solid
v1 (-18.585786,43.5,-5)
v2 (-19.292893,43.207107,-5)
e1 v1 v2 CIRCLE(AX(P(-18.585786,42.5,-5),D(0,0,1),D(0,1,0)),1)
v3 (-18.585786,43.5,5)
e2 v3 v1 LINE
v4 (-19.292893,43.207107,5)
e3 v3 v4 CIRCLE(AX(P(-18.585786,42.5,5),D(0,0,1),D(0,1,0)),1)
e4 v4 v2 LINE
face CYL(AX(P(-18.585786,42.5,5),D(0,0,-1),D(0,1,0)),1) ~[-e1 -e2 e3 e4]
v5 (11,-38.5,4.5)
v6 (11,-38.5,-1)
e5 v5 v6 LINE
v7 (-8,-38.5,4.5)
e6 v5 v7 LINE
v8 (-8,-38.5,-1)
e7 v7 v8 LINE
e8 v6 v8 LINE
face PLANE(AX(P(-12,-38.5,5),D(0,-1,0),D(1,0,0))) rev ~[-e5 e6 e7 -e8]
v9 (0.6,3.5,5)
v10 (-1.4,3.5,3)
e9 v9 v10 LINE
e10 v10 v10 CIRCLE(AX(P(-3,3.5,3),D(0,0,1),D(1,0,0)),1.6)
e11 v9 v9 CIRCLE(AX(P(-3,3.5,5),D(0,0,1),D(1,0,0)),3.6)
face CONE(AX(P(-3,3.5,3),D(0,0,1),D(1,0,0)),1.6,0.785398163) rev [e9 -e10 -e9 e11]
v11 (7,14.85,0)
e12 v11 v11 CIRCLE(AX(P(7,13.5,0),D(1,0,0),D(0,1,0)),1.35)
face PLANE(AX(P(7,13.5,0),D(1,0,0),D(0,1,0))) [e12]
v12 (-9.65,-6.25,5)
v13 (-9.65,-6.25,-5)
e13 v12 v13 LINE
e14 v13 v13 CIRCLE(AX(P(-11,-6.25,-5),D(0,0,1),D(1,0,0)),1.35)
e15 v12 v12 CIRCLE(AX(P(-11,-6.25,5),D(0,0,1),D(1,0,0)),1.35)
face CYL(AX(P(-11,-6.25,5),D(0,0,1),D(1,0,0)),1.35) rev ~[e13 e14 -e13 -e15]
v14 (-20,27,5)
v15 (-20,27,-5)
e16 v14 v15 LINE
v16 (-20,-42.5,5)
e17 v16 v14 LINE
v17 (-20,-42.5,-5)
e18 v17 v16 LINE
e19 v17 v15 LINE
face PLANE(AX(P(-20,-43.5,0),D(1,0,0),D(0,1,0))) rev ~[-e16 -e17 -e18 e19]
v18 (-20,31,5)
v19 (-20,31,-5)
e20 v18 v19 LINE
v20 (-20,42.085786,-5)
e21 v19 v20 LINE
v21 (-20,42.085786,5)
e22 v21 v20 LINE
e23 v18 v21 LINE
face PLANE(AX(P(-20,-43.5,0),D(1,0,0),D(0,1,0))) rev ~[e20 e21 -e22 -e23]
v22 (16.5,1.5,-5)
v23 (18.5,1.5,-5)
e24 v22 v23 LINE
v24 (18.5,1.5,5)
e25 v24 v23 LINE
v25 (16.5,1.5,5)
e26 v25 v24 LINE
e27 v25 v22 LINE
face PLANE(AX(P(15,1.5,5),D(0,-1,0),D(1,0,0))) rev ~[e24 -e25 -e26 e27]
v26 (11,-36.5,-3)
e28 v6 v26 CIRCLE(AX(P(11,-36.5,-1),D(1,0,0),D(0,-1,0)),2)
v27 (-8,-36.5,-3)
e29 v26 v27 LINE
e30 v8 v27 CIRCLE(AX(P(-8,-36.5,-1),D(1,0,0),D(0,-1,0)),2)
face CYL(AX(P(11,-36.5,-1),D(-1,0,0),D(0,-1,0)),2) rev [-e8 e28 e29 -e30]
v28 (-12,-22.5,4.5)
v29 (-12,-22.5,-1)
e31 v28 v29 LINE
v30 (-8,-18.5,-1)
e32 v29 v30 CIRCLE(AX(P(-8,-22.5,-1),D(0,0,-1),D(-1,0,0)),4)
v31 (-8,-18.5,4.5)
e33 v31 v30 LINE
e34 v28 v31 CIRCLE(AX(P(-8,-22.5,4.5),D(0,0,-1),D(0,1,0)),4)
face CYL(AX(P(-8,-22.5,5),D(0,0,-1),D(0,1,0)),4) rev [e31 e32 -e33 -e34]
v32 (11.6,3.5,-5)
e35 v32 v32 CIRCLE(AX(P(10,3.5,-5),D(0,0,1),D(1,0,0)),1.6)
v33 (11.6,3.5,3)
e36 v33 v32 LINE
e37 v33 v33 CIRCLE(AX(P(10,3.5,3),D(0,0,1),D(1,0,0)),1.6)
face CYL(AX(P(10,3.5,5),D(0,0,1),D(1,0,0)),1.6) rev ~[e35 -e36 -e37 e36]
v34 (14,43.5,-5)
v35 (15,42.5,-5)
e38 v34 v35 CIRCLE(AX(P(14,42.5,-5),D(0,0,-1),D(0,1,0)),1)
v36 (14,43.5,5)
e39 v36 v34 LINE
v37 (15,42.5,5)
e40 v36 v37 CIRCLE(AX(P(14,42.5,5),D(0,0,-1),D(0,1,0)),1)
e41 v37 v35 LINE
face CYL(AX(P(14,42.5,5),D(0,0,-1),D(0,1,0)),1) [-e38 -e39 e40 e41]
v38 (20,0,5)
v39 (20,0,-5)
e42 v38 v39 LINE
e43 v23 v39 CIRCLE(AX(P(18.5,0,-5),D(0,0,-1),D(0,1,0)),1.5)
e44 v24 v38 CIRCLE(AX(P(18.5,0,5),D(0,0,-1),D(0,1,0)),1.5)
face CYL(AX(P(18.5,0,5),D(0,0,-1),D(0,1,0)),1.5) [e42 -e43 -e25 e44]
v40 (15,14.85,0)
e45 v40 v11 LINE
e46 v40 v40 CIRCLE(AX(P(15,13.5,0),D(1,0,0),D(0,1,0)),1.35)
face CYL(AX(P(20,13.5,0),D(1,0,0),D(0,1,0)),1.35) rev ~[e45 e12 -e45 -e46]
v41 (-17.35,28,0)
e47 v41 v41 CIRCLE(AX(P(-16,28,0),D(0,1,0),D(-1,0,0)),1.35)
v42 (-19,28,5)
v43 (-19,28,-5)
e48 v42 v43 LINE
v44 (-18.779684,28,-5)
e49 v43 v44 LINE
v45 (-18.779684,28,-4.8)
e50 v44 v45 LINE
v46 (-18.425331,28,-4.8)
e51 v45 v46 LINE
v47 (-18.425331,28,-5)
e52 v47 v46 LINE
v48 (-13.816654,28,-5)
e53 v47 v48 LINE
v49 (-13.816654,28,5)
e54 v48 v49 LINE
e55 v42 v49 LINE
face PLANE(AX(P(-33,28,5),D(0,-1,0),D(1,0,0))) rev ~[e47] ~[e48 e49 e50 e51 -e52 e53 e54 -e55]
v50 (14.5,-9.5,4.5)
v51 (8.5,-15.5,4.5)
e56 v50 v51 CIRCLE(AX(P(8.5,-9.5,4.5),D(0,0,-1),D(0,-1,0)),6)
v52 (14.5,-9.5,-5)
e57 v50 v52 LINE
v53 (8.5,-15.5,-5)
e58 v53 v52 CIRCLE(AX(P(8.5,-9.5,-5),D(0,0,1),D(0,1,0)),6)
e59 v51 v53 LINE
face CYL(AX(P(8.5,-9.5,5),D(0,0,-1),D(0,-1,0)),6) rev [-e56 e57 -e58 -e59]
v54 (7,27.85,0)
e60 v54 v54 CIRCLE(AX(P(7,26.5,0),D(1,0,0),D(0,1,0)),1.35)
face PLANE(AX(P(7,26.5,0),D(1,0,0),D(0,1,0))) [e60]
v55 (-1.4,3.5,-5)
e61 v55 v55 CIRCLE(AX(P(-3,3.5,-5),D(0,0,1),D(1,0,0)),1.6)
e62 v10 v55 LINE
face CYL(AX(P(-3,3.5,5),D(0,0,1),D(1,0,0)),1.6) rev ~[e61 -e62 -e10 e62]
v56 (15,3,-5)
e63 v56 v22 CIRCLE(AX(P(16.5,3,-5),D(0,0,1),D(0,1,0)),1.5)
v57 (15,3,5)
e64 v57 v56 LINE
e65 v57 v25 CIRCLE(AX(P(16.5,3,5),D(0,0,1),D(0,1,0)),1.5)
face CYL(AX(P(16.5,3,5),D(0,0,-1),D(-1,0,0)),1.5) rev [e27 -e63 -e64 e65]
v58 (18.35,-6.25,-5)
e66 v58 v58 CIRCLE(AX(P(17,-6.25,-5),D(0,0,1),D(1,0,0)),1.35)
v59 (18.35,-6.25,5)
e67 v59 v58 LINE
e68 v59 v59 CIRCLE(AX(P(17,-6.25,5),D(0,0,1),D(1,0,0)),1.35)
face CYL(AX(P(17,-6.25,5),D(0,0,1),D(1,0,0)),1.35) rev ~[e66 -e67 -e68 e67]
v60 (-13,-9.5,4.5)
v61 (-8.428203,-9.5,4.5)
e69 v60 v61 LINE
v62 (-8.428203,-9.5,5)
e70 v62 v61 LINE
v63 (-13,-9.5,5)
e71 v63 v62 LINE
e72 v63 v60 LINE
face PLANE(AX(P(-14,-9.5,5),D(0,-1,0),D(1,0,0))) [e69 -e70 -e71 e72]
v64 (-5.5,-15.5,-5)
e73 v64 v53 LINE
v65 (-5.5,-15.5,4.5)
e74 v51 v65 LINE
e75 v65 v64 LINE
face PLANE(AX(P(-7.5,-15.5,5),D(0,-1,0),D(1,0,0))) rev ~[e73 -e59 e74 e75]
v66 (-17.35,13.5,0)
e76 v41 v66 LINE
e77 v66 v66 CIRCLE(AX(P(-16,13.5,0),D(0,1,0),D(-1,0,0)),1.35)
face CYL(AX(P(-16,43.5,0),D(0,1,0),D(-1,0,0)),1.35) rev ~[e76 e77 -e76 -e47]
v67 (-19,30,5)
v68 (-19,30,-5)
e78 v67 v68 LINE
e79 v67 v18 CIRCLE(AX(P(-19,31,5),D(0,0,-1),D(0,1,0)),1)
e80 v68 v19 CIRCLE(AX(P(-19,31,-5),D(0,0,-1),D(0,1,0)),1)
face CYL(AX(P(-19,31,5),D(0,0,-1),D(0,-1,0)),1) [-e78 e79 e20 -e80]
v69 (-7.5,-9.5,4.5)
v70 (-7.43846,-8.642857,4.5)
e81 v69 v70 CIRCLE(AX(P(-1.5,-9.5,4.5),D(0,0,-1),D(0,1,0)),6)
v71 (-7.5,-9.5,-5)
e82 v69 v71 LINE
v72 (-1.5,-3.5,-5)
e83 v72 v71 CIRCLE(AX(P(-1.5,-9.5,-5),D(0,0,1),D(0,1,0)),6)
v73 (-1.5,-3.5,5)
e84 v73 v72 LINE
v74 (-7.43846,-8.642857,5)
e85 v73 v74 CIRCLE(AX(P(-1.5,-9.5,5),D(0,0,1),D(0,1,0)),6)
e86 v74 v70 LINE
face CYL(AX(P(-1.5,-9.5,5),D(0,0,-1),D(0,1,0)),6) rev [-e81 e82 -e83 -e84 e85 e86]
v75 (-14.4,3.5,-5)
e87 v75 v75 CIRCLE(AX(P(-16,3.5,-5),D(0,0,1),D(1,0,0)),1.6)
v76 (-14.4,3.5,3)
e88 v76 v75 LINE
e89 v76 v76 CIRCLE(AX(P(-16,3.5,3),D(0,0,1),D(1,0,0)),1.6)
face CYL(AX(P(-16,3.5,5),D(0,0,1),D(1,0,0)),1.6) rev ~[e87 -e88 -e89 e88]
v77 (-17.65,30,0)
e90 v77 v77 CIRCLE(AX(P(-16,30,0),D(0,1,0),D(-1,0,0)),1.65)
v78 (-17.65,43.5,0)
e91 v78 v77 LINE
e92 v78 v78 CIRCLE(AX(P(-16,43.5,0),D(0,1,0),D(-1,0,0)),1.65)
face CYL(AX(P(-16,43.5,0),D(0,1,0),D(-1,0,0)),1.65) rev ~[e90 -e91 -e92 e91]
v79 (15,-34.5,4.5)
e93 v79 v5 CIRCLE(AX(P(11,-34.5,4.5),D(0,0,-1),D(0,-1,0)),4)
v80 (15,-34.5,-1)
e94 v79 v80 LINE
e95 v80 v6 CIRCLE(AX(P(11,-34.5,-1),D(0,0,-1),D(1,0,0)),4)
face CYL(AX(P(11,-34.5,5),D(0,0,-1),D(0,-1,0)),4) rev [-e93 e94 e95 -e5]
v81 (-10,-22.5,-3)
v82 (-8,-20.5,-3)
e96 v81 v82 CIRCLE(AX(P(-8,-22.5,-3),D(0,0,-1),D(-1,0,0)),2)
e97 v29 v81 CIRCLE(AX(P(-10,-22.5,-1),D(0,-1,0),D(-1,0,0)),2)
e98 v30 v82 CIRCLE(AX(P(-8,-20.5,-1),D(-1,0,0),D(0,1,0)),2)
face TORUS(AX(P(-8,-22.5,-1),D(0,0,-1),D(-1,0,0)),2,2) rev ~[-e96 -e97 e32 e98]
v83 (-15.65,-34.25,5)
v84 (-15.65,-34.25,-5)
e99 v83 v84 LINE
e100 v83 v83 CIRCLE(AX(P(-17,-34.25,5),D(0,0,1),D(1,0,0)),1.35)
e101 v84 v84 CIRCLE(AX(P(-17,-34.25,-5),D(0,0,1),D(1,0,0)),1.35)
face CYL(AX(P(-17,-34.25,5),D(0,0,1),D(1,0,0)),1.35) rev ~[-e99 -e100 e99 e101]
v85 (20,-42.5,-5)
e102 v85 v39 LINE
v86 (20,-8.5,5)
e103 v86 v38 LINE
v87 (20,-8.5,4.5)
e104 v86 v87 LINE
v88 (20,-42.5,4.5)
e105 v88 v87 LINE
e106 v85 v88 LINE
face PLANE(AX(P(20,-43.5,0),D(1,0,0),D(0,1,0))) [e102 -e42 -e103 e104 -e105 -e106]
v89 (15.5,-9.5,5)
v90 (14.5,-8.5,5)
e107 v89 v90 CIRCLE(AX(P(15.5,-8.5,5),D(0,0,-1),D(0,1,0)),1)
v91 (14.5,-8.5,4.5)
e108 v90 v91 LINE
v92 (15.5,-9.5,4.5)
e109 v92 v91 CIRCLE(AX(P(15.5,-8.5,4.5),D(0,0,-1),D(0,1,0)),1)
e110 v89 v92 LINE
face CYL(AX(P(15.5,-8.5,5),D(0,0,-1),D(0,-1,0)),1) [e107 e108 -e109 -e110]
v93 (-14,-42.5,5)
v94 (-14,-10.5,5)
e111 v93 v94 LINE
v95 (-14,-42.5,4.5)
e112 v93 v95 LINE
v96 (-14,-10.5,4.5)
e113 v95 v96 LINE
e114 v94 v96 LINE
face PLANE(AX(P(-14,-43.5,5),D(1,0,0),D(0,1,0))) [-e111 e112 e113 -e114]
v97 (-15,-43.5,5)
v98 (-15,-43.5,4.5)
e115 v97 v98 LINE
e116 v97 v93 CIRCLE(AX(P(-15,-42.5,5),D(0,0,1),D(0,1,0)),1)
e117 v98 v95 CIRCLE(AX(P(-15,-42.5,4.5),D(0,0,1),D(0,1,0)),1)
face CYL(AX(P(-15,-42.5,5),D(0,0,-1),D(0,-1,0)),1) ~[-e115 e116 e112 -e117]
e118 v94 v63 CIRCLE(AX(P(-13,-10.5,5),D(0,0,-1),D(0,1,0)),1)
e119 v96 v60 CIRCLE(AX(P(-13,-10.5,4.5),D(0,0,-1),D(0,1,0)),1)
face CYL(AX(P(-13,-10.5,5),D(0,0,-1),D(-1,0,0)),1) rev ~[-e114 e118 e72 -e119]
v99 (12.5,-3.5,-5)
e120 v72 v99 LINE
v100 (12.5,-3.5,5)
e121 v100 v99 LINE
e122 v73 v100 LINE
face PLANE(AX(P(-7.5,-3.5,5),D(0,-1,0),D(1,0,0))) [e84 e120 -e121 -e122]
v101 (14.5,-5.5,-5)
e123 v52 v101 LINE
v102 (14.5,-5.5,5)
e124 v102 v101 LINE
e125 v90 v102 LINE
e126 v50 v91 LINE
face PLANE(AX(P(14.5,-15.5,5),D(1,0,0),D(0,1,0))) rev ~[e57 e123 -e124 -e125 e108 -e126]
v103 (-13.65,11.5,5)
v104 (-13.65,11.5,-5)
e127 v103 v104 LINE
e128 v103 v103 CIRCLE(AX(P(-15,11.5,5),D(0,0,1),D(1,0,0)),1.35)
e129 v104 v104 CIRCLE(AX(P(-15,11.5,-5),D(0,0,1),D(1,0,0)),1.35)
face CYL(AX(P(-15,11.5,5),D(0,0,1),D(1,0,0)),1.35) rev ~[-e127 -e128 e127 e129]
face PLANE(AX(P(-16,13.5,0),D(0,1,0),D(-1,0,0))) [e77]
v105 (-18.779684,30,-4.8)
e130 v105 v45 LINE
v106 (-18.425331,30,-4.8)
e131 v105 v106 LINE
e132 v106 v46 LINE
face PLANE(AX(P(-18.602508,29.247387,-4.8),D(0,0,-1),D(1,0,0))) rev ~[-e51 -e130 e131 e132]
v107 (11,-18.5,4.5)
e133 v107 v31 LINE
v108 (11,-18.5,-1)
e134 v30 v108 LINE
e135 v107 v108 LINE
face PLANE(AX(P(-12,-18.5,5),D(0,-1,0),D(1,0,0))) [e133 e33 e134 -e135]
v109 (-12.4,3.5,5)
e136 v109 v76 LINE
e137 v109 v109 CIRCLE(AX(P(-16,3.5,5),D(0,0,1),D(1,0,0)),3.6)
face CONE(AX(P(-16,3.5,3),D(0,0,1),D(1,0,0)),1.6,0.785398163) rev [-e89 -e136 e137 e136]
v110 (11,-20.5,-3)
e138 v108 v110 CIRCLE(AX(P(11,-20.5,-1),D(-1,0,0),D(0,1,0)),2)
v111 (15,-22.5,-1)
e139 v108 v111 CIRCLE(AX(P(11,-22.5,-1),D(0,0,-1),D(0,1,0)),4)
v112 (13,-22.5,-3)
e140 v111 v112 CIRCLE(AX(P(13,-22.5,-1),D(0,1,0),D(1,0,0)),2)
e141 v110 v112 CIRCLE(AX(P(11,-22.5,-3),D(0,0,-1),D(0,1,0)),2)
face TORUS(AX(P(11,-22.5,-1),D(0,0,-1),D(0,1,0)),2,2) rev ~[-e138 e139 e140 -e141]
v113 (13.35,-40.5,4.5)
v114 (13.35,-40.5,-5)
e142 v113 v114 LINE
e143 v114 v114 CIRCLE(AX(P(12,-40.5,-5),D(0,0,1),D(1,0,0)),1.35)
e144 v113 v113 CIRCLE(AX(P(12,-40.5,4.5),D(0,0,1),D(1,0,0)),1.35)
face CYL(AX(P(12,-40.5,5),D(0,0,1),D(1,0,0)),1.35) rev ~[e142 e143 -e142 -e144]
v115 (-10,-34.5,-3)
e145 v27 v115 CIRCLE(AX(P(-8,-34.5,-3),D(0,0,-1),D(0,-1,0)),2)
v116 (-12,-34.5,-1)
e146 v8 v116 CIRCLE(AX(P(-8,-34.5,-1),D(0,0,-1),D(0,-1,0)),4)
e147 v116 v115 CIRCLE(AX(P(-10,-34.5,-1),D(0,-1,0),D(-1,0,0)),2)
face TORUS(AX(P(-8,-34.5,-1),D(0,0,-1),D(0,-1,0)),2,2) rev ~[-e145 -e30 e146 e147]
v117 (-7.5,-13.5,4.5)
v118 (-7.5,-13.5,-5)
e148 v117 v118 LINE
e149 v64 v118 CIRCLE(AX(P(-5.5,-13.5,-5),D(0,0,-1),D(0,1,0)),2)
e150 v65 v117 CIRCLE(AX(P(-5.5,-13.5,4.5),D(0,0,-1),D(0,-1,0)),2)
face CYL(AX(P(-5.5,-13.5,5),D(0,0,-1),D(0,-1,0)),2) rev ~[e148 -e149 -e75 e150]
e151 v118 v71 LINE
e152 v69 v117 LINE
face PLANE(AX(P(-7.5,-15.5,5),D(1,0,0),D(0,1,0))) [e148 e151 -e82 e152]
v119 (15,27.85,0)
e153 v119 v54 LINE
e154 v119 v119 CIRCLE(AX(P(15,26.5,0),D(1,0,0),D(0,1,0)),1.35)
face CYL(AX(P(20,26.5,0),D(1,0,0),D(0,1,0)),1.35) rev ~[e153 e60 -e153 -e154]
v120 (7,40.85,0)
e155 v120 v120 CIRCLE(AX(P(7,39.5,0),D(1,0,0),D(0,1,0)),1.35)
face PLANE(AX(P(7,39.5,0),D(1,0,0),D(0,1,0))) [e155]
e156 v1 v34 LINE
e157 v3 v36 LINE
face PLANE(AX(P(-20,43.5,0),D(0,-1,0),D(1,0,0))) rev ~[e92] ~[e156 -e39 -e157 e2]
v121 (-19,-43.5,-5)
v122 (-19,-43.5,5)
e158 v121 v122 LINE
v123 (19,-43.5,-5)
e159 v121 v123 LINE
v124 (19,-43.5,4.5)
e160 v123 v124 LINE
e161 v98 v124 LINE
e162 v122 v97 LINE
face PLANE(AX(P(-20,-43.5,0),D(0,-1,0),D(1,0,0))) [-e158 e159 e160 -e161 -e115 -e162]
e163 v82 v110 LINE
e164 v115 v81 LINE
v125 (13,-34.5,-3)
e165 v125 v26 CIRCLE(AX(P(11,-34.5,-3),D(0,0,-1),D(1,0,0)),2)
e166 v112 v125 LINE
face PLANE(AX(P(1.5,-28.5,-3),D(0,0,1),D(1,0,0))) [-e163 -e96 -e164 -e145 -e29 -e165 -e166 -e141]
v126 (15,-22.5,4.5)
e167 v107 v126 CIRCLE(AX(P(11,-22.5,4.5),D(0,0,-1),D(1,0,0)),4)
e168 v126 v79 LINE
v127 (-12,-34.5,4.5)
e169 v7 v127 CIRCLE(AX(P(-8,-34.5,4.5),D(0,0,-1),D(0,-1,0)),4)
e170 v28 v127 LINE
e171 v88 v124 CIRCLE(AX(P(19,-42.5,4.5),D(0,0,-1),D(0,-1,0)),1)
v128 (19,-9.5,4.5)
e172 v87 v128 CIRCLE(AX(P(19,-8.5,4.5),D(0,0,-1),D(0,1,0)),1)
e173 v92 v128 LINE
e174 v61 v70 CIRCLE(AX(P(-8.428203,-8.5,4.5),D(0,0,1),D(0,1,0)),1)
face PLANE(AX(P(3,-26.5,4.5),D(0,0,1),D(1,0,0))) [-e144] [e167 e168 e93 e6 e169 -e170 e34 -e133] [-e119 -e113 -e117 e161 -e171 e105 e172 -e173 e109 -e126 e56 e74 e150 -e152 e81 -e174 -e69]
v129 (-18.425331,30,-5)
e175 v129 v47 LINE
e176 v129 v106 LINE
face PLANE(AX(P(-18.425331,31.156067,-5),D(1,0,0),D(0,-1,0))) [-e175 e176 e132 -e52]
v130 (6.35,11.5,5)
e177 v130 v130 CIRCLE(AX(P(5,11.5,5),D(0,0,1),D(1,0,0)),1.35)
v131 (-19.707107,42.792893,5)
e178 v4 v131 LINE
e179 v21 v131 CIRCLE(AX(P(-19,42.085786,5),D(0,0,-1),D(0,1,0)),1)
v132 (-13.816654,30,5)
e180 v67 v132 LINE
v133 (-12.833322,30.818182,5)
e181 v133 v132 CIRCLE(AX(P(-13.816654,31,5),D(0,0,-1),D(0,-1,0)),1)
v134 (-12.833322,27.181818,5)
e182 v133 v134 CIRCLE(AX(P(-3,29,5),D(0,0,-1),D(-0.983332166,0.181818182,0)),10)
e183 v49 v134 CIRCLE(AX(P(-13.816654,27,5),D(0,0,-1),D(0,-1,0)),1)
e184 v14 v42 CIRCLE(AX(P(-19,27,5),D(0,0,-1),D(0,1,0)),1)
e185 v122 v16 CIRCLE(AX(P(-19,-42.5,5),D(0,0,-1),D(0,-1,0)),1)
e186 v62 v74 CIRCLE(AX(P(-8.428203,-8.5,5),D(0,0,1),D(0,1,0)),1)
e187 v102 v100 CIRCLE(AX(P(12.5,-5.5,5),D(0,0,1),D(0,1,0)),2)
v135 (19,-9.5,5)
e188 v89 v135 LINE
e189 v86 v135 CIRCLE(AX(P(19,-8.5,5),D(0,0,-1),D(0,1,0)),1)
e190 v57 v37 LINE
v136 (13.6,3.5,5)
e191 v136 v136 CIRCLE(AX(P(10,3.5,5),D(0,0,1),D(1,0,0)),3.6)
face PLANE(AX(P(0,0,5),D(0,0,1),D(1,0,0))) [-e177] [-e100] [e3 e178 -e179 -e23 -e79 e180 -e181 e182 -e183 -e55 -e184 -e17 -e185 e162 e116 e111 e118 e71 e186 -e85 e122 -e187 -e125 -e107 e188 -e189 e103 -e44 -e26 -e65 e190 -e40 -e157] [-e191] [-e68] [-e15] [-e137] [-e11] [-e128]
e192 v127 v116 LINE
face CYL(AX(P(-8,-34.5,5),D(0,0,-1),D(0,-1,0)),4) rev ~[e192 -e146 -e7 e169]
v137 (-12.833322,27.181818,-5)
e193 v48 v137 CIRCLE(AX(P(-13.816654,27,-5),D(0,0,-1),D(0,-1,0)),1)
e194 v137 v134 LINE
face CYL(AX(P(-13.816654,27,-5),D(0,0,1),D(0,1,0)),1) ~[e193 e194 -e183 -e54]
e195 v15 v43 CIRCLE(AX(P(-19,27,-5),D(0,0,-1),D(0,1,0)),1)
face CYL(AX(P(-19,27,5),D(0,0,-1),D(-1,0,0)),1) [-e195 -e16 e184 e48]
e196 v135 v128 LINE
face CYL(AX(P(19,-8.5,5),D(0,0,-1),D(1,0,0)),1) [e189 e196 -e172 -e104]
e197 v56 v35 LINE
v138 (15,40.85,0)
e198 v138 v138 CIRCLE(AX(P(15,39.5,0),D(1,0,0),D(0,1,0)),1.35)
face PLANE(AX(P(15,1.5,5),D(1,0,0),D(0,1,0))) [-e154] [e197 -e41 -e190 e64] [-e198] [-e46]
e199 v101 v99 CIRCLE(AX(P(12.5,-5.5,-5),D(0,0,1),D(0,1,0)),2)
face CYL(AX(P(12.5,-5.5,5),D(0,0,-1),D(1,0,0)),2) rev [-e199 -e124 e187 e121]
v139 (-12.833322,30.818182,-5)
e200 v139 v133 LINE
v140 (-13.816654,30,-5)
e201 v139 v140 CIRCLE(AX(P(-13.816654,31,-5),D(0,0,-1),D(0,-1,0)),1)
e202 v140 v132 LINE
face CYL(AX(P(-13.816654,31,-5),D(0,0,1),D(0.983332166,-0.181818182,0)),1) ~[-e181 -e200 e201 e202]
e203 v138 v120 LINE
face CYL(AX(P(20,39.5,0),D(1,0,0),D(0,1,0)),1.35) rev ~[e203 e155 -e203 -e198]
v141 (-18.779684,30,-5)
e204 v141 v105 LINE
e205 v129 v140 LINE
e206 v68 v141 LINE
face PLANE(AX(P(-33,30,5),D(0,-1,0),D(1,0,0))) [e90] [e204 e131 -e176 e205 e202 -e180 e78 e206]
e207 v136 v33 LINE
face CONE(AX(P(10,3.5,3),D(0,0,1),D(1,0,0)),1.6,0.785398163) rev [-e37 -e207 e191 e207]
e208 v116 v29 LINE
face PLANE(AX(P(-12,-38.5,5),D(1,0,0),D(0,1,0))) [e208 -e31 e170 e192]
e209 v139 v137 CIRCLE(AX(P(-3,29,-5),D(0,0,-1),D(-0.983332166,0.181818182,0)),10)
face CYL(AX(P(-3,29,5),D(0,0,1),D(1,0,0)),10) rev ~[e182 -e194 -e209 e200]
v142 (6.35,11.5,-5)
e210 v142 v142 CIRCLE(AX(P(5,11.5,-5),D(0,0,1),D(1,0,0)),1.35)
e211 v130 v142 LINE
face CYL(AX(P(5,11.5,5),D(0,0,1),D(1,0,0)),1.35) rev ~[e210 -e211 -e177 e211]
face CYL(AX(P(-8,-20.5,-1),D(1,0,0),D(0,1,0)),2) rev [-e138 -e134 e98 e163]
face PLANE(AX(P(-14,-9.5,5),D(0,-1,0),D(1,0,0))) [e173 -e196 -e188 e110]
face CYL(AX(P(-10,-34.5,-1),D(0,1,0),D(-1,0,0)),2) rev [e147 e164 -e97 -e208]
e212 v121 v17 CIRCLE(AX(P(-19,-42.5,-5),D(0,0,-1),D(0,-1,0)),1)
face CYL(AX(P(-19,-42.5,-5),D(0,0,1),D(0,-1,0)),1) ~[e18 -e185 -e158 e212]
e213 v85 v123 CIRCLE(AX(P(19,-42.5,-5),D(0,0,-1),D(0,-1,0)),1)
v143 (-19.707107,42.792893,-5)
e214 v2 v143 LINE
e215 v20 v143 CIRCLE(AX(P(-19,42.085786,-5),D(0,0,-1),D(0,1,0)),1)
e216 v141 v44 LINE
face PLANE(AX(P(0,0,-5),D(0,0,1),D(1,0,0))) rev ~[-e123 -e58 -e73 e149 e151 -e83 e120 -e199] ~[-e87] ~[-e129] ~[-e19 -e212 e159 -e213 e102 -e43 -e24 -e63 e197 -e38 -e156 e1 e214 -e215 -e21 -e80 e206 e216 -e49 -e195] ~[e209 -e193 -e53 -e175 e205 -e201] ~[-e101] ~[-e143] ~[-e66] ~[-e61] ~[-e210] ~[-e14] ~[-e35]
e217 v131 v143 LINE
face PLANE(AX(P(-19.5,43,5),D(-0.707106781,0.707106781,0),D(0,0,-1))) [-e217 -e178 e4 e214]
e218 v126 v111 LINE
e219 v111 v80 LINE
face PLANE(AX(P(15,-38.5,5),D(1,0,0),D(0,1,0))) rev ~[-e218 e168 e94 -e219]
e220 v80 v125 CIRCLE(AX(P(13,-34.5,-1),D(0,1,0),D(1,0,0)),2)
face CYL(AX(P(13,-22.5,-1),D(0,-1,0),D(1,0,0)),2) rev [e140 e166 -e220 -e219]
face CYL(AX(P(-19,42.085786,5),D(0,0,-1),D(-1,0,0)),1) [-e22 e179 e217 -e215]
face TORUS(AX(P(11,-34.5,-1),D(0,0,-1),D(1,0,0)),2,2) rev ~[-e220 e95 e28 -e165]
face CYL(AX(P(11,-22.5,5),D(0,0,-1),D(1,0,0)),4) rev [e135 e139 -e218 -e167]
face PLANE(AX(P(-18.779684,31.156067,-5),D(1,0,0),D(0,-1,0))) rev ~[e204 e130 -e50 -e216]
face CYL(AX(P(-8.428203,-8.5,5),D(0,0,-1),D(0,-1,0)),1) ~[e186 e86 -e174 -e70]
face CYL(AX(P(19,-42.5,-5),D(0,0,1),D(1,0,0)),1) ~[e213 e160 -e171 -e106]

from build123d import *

# Parameters (mm, degrees)
SKETCH_W         = 40
SKETCH_H         = 87
PAD_DEPTH        = 5
SKETCH001_R      = 1.35
POCKET_DEPTH     = 10.001
SKETCH009_R      = 1.6
POCKET007_DEPTH  = 10.001
SKETCH010_W      = 5
SKETCH010_H      = 42
POCKET008_DEPTH  = 10.001
CHAMFER_SIZE     = 2
FILLET_R         = 1.5
CHAMFER001_SIZE2 = 1
CHAMFER001_SIZE  = 1
SKETCH011_W      = 22
SKETCH011_H      = 12
POCKET009_DEPTH  = 12
FILLET001_R      = 6
FILLET009_R      = 2
SKETCH012_W      = 27
SKETCH012_H      = 20
POCKET010_DEPTH  = 8
FILLET002_R      = 4
FILLET003_R      = 2
SKETCH013_R      = 10
POCKET011_DEPTH  = 12
SKETCH014_R      = 1.35
POCKET012_DEPTH  = 10.001
SKETCH015_R      = 1.35
POCKET013_DEPTH  = 10.001
SKETCH016_W      = 34
SKETCH016_H      = 34
POCKET014_DEPTH  = 0.5
SKETCH017_R      = 1.35
POCKET015_DEPTH  = 13
FILLET010_R      = 1
FILLET011_R      = 1
SKETCH018_W      = 30
SKETCH018_H      = 2
POCKET016_DEPTH  = 10.001
SKETCH019_R      = 1.35
POCKET017_DEPTH  = 30
SKETCH020_R      = 1.65
POCKET018_DEPTH  = 15
FILLET012_R      = 1
SKETCH021_W      = 0.354353
SKETCH021_H      = 3.81736
PAD001_DEPTH     = 0.2


with BuildPart() as part:
    # Sketch → Pad (new body, symmetric)
    with BuildSketch(Plane.XY):
        Rectangle(SKETCH_W, SKETCH_H)
    extrude(amount=PAD_DEPTH, both=True)

    # Sketch001 (on Face6 of Pad) → Pocket (cut, through all)
    with BuildSketch(Plane.XY.offset(5)):
        with Locations((17, -6.25)):
            Circle(SKETCH001_R)
        with Locations((-11, -6.25)):
            Circle(SKETCH001_R)
        with Locations((-17, -34.25)):
            Circle(SKETCH001_R)
    extrude(amount=-POCKET_DEPTH, mode=Mode.SUBTRACT)

    # Sketch009 (on Face5 of Pocket) → Pocket007 (cut, through all)
    with BuildSketch(Plane.XY.offset(5)):
        with Locations((-16, 3.5)):
            Circle(SKETCH009_R)
        with Locations((-3, 3.5)):
            Circle(SKETCH009_R)
        with Locations((10, 3.5)):
            Circle(SKETCH009_R)
    extrude(amount=-POCKET007_DEPTH, mode=Mode.SUBTRACT)

    # Sketch010 (on Face5 of Pocket007) → Pocket008 (cut, through all)
    with BuildSketch(Plane.XY.offset(5)):
        with Locations((17.5, 22.5)):
            Rectangle(SKETCH010_W, SKETCH010_H)
    extrude(amount=-POCKET008_DEPTH, mode=Mode.SUBTRACT)

    # Chamfer
    chamfer_edges = [part.edges().sort_by_distance(p)[0] for p in [
        (8.4, 3.5, 5),
        (-4.6, 3.5, 5),
        (-17.6, 3.5, 5),
    ]]
    chamfer(chamfer_edges, length=CHAMFER_SIZE)

    # Fillet
    fillet_edges = [part.edges().sort_by_distance(p)[0] for p in [
        (20, 1.5, 0),
        (15, 1.5, 0),
    ]]
    fillet(fillet_edges, radius=FILLET_R)

    # Chamfer001
    chamfer001_edges = [part.edges().sort_by_distance(p)[0] for p in [
        (-20, 43.5, 0),
    ]]
    chamfer001_side = part.faces().sort_by_distance((-2.5, 43.5, 0))[0]
    chamfer(chamfer001_edges, length=CHAMFER001_SIZE, length2=CHAMFER001_SIZE2, reference=chamfer001_side)

    # Sketch011 (on Face1 of Chamfer001) → Pocket009 (cut)
    with BuildSketch(Plane.XY.offset(5)):
        with Locations((3.5, -9.5)):
            Rectangle(SKETCH011_W, SKETCH011_H)
    extrude(amount=-POCKET009_DEPTH, mode=Mode.SUBTRACT)

    # Fillet001
    fillet001_edges = [part.edges().sort_by_distance(p)[0] for p in [
        (-7.5, -3.5, 0),
        (14.5, -15.5, 0),
    ]]
    fillet(fillet001_edges, radius=FILLET001_R)

    # Fillet009
    fillet009_edges = [part.edges().sort_by_distance(p)[0] for p in [
        (14.5, -3.5, 0),
        (-7.5, -15.5, 0),
    ]]
    fillet(fillet009_edges, radius=FILLET009_R)

    # Sketch012 (on Face1 of Fillet001) → Pocket010 (cut)
    with BuildSketch(Plane.XY.offset(5)):
        with Locations((1.5, -28.5)):
            Rectangle(SKETCH012_W, SKETCH012_H)
    extrude(amount=-POCKET010_DEPTH, mode=Mode.SUBTRACT)

    # Fillet002
    fillet002_edges = [part.edges().sort_by_distance(p)[0] for p in [
        (-12, -18.5, 1),
        (-12, -38.5, 1),
        (15, -38.5, 1),
        (15, -18.5, 1),
    ]]
    fillet(fillet002_edges, radius=FILLET002_R)

    # Fillet003
    fillet003_edges = [part.edges().sort_by_distance(p)[0] for p in [
        (-12, -28.5, -3),
    ]]
    fillet(fillet003_edges, radius=FILLET003_R)

    # Sketch013 (on Face4 of Fillet003) → Pocket011 (cut)
    with BuildSketch(Plane.XY.offset(5)):
        with Locations((-3, 29)):
            Circle(SKETCH013_R)
    extrude(amount=-POCKET011_DEPTH, mode=Mode.SUBTRACT)

    # Sketch014 → Pocket012 (cut, through all)
    with BuildSketch(Plane.XY.offset(5)):
        with Locations((-15, 11.5)):
            Circle(SKETCH014_R)
        with Locations((5, 11.5)):
            Circle(SKETCH014_R)
    extrude(amount=-POCKET012_DEPTH, mode=Mode.SUBTRACT)

    # Sketch015 (on Face4 of Pocket012) → Pocket013 (cut, through all)
    with BuildSketch(Plane.XY.offset(5)):
        with Locations((12, -40.5)):
            Circle(SKETCH015_R)
    extrude(amount=-POCKET013_DEPTH, mode=Mode.SUBTRACT)

    # Sketch016 (on Face4 of Pocket013) → Pocket014 (cut)
    with BuildSketch(Plane.XY.offset(5)):
        with Locations((3, -26.5)):
            Rectangle(SKETCH016_W, SKETCH016_H)
    extrude(amount=-POCKET014_DEPTH, mode=Mode.SUBTRACT)

    # Sketch017 (on Face14 of Pocket014) → Pocket015 (cut)
    with BuildSketch(Plane.YZ.offset(20)):
        with Locations((13.5, 0)):
            Circle(SKETCH017_R)
        with Locations((26.5, 0)):
            Circle(SKETCH017_R)
        with Locations((39.5, 0)):
            Circle(SKETCH017_R)
    extrude(amount=-POCKET015_DEPTH, mode=Mode.SUBTRACT)

    # Fillet010
    fillet010_edges = [part.edges().sort_by_distance(p)[0] for p in [
        (20, -43.5, -0.25),
        (-20, -43.5, 0),
        (15, 43.5, 0),
        (-20, 42.5, 0),
        (-19, 43.5, 0),
    ]]
    fillet(fillet010_edges, radius=FILLET010_R)

    # Fillet011
    fillet011_edges = [part.edges().sort_by_distance(p)[0] for p in [
        (20, -9.5, 4.75),
        (14.5, -9.5, 4.75),
        (-7.5, -9.5, 4.75),
        (-14, -9.5, 4.75),
        (-14, -43.5, 4.75),
    ]]
    fillet(fillet011_edges, radius=FILLET011_R)

    # Sketch018 (on Face28 of Fillet011) → Pocket016 (cut, through all)
    with BuildSketch(Plane.XY.offset(5)):
        with Locations((-18, 29)):
            Rectangle(SKETCH018_W, SKETCH018_H)
    extrude(amount=-POCKET016_DEPTH, mode=Mode.SUBTRACT)

    # Sketch019 (on Face49 of Pocket016) → Pocket017 (cut)
    with BuildSketch(Plane(origin=(0, 43.5, 0), x_dir=(-1, 0, 0), z_dir=(0, 1, 0))):
        with Locations((16, 0)):
            Circle(SKETCH019_R)
    extrude(amount=-POCKET017_DEPTH, mode=Mode.SUBTRACT)

    # Sketch020 (on Face50 of Pocket017) → Pocket018 (cut)
    with BuildSketch(Plane(origin=(0, 43.5, 0), x_dir=(-1, 0, 0), z_dir=(0, 1, 0))):
        with Locations((16, 0)):
            Circle(SKETCH020_R)
    extrude(amount=-POCKET018_DEPTH, mode=Mode.SUBTRACT)

    # Fillet012
    fillet012_edges = [part.edges().sort_by_distance(p)[0] for p in [
        (-12.949874, 28, 0),
        (-12.949874, 30, 0),
        (-20, 28, 0),
        (-20, 30, 0),
    ]]
    fillet(fillet012_edges, radius=FILLET012_R)

    # Sketch021 (on Face43 of Fillet012) → Pad001 (join)
    with BuildSketch(Plane(origin=(0, 0, -5), x_dir=(1, 0, 0), z_dir=(0, 0, -1))):
        with Locations((-18.602508, -29.247387)):
            Rectangle(SKETCH021_W, SKETCH021_H)
    extrude(amount=-PAD001_DEPTH)


solid = part.part
